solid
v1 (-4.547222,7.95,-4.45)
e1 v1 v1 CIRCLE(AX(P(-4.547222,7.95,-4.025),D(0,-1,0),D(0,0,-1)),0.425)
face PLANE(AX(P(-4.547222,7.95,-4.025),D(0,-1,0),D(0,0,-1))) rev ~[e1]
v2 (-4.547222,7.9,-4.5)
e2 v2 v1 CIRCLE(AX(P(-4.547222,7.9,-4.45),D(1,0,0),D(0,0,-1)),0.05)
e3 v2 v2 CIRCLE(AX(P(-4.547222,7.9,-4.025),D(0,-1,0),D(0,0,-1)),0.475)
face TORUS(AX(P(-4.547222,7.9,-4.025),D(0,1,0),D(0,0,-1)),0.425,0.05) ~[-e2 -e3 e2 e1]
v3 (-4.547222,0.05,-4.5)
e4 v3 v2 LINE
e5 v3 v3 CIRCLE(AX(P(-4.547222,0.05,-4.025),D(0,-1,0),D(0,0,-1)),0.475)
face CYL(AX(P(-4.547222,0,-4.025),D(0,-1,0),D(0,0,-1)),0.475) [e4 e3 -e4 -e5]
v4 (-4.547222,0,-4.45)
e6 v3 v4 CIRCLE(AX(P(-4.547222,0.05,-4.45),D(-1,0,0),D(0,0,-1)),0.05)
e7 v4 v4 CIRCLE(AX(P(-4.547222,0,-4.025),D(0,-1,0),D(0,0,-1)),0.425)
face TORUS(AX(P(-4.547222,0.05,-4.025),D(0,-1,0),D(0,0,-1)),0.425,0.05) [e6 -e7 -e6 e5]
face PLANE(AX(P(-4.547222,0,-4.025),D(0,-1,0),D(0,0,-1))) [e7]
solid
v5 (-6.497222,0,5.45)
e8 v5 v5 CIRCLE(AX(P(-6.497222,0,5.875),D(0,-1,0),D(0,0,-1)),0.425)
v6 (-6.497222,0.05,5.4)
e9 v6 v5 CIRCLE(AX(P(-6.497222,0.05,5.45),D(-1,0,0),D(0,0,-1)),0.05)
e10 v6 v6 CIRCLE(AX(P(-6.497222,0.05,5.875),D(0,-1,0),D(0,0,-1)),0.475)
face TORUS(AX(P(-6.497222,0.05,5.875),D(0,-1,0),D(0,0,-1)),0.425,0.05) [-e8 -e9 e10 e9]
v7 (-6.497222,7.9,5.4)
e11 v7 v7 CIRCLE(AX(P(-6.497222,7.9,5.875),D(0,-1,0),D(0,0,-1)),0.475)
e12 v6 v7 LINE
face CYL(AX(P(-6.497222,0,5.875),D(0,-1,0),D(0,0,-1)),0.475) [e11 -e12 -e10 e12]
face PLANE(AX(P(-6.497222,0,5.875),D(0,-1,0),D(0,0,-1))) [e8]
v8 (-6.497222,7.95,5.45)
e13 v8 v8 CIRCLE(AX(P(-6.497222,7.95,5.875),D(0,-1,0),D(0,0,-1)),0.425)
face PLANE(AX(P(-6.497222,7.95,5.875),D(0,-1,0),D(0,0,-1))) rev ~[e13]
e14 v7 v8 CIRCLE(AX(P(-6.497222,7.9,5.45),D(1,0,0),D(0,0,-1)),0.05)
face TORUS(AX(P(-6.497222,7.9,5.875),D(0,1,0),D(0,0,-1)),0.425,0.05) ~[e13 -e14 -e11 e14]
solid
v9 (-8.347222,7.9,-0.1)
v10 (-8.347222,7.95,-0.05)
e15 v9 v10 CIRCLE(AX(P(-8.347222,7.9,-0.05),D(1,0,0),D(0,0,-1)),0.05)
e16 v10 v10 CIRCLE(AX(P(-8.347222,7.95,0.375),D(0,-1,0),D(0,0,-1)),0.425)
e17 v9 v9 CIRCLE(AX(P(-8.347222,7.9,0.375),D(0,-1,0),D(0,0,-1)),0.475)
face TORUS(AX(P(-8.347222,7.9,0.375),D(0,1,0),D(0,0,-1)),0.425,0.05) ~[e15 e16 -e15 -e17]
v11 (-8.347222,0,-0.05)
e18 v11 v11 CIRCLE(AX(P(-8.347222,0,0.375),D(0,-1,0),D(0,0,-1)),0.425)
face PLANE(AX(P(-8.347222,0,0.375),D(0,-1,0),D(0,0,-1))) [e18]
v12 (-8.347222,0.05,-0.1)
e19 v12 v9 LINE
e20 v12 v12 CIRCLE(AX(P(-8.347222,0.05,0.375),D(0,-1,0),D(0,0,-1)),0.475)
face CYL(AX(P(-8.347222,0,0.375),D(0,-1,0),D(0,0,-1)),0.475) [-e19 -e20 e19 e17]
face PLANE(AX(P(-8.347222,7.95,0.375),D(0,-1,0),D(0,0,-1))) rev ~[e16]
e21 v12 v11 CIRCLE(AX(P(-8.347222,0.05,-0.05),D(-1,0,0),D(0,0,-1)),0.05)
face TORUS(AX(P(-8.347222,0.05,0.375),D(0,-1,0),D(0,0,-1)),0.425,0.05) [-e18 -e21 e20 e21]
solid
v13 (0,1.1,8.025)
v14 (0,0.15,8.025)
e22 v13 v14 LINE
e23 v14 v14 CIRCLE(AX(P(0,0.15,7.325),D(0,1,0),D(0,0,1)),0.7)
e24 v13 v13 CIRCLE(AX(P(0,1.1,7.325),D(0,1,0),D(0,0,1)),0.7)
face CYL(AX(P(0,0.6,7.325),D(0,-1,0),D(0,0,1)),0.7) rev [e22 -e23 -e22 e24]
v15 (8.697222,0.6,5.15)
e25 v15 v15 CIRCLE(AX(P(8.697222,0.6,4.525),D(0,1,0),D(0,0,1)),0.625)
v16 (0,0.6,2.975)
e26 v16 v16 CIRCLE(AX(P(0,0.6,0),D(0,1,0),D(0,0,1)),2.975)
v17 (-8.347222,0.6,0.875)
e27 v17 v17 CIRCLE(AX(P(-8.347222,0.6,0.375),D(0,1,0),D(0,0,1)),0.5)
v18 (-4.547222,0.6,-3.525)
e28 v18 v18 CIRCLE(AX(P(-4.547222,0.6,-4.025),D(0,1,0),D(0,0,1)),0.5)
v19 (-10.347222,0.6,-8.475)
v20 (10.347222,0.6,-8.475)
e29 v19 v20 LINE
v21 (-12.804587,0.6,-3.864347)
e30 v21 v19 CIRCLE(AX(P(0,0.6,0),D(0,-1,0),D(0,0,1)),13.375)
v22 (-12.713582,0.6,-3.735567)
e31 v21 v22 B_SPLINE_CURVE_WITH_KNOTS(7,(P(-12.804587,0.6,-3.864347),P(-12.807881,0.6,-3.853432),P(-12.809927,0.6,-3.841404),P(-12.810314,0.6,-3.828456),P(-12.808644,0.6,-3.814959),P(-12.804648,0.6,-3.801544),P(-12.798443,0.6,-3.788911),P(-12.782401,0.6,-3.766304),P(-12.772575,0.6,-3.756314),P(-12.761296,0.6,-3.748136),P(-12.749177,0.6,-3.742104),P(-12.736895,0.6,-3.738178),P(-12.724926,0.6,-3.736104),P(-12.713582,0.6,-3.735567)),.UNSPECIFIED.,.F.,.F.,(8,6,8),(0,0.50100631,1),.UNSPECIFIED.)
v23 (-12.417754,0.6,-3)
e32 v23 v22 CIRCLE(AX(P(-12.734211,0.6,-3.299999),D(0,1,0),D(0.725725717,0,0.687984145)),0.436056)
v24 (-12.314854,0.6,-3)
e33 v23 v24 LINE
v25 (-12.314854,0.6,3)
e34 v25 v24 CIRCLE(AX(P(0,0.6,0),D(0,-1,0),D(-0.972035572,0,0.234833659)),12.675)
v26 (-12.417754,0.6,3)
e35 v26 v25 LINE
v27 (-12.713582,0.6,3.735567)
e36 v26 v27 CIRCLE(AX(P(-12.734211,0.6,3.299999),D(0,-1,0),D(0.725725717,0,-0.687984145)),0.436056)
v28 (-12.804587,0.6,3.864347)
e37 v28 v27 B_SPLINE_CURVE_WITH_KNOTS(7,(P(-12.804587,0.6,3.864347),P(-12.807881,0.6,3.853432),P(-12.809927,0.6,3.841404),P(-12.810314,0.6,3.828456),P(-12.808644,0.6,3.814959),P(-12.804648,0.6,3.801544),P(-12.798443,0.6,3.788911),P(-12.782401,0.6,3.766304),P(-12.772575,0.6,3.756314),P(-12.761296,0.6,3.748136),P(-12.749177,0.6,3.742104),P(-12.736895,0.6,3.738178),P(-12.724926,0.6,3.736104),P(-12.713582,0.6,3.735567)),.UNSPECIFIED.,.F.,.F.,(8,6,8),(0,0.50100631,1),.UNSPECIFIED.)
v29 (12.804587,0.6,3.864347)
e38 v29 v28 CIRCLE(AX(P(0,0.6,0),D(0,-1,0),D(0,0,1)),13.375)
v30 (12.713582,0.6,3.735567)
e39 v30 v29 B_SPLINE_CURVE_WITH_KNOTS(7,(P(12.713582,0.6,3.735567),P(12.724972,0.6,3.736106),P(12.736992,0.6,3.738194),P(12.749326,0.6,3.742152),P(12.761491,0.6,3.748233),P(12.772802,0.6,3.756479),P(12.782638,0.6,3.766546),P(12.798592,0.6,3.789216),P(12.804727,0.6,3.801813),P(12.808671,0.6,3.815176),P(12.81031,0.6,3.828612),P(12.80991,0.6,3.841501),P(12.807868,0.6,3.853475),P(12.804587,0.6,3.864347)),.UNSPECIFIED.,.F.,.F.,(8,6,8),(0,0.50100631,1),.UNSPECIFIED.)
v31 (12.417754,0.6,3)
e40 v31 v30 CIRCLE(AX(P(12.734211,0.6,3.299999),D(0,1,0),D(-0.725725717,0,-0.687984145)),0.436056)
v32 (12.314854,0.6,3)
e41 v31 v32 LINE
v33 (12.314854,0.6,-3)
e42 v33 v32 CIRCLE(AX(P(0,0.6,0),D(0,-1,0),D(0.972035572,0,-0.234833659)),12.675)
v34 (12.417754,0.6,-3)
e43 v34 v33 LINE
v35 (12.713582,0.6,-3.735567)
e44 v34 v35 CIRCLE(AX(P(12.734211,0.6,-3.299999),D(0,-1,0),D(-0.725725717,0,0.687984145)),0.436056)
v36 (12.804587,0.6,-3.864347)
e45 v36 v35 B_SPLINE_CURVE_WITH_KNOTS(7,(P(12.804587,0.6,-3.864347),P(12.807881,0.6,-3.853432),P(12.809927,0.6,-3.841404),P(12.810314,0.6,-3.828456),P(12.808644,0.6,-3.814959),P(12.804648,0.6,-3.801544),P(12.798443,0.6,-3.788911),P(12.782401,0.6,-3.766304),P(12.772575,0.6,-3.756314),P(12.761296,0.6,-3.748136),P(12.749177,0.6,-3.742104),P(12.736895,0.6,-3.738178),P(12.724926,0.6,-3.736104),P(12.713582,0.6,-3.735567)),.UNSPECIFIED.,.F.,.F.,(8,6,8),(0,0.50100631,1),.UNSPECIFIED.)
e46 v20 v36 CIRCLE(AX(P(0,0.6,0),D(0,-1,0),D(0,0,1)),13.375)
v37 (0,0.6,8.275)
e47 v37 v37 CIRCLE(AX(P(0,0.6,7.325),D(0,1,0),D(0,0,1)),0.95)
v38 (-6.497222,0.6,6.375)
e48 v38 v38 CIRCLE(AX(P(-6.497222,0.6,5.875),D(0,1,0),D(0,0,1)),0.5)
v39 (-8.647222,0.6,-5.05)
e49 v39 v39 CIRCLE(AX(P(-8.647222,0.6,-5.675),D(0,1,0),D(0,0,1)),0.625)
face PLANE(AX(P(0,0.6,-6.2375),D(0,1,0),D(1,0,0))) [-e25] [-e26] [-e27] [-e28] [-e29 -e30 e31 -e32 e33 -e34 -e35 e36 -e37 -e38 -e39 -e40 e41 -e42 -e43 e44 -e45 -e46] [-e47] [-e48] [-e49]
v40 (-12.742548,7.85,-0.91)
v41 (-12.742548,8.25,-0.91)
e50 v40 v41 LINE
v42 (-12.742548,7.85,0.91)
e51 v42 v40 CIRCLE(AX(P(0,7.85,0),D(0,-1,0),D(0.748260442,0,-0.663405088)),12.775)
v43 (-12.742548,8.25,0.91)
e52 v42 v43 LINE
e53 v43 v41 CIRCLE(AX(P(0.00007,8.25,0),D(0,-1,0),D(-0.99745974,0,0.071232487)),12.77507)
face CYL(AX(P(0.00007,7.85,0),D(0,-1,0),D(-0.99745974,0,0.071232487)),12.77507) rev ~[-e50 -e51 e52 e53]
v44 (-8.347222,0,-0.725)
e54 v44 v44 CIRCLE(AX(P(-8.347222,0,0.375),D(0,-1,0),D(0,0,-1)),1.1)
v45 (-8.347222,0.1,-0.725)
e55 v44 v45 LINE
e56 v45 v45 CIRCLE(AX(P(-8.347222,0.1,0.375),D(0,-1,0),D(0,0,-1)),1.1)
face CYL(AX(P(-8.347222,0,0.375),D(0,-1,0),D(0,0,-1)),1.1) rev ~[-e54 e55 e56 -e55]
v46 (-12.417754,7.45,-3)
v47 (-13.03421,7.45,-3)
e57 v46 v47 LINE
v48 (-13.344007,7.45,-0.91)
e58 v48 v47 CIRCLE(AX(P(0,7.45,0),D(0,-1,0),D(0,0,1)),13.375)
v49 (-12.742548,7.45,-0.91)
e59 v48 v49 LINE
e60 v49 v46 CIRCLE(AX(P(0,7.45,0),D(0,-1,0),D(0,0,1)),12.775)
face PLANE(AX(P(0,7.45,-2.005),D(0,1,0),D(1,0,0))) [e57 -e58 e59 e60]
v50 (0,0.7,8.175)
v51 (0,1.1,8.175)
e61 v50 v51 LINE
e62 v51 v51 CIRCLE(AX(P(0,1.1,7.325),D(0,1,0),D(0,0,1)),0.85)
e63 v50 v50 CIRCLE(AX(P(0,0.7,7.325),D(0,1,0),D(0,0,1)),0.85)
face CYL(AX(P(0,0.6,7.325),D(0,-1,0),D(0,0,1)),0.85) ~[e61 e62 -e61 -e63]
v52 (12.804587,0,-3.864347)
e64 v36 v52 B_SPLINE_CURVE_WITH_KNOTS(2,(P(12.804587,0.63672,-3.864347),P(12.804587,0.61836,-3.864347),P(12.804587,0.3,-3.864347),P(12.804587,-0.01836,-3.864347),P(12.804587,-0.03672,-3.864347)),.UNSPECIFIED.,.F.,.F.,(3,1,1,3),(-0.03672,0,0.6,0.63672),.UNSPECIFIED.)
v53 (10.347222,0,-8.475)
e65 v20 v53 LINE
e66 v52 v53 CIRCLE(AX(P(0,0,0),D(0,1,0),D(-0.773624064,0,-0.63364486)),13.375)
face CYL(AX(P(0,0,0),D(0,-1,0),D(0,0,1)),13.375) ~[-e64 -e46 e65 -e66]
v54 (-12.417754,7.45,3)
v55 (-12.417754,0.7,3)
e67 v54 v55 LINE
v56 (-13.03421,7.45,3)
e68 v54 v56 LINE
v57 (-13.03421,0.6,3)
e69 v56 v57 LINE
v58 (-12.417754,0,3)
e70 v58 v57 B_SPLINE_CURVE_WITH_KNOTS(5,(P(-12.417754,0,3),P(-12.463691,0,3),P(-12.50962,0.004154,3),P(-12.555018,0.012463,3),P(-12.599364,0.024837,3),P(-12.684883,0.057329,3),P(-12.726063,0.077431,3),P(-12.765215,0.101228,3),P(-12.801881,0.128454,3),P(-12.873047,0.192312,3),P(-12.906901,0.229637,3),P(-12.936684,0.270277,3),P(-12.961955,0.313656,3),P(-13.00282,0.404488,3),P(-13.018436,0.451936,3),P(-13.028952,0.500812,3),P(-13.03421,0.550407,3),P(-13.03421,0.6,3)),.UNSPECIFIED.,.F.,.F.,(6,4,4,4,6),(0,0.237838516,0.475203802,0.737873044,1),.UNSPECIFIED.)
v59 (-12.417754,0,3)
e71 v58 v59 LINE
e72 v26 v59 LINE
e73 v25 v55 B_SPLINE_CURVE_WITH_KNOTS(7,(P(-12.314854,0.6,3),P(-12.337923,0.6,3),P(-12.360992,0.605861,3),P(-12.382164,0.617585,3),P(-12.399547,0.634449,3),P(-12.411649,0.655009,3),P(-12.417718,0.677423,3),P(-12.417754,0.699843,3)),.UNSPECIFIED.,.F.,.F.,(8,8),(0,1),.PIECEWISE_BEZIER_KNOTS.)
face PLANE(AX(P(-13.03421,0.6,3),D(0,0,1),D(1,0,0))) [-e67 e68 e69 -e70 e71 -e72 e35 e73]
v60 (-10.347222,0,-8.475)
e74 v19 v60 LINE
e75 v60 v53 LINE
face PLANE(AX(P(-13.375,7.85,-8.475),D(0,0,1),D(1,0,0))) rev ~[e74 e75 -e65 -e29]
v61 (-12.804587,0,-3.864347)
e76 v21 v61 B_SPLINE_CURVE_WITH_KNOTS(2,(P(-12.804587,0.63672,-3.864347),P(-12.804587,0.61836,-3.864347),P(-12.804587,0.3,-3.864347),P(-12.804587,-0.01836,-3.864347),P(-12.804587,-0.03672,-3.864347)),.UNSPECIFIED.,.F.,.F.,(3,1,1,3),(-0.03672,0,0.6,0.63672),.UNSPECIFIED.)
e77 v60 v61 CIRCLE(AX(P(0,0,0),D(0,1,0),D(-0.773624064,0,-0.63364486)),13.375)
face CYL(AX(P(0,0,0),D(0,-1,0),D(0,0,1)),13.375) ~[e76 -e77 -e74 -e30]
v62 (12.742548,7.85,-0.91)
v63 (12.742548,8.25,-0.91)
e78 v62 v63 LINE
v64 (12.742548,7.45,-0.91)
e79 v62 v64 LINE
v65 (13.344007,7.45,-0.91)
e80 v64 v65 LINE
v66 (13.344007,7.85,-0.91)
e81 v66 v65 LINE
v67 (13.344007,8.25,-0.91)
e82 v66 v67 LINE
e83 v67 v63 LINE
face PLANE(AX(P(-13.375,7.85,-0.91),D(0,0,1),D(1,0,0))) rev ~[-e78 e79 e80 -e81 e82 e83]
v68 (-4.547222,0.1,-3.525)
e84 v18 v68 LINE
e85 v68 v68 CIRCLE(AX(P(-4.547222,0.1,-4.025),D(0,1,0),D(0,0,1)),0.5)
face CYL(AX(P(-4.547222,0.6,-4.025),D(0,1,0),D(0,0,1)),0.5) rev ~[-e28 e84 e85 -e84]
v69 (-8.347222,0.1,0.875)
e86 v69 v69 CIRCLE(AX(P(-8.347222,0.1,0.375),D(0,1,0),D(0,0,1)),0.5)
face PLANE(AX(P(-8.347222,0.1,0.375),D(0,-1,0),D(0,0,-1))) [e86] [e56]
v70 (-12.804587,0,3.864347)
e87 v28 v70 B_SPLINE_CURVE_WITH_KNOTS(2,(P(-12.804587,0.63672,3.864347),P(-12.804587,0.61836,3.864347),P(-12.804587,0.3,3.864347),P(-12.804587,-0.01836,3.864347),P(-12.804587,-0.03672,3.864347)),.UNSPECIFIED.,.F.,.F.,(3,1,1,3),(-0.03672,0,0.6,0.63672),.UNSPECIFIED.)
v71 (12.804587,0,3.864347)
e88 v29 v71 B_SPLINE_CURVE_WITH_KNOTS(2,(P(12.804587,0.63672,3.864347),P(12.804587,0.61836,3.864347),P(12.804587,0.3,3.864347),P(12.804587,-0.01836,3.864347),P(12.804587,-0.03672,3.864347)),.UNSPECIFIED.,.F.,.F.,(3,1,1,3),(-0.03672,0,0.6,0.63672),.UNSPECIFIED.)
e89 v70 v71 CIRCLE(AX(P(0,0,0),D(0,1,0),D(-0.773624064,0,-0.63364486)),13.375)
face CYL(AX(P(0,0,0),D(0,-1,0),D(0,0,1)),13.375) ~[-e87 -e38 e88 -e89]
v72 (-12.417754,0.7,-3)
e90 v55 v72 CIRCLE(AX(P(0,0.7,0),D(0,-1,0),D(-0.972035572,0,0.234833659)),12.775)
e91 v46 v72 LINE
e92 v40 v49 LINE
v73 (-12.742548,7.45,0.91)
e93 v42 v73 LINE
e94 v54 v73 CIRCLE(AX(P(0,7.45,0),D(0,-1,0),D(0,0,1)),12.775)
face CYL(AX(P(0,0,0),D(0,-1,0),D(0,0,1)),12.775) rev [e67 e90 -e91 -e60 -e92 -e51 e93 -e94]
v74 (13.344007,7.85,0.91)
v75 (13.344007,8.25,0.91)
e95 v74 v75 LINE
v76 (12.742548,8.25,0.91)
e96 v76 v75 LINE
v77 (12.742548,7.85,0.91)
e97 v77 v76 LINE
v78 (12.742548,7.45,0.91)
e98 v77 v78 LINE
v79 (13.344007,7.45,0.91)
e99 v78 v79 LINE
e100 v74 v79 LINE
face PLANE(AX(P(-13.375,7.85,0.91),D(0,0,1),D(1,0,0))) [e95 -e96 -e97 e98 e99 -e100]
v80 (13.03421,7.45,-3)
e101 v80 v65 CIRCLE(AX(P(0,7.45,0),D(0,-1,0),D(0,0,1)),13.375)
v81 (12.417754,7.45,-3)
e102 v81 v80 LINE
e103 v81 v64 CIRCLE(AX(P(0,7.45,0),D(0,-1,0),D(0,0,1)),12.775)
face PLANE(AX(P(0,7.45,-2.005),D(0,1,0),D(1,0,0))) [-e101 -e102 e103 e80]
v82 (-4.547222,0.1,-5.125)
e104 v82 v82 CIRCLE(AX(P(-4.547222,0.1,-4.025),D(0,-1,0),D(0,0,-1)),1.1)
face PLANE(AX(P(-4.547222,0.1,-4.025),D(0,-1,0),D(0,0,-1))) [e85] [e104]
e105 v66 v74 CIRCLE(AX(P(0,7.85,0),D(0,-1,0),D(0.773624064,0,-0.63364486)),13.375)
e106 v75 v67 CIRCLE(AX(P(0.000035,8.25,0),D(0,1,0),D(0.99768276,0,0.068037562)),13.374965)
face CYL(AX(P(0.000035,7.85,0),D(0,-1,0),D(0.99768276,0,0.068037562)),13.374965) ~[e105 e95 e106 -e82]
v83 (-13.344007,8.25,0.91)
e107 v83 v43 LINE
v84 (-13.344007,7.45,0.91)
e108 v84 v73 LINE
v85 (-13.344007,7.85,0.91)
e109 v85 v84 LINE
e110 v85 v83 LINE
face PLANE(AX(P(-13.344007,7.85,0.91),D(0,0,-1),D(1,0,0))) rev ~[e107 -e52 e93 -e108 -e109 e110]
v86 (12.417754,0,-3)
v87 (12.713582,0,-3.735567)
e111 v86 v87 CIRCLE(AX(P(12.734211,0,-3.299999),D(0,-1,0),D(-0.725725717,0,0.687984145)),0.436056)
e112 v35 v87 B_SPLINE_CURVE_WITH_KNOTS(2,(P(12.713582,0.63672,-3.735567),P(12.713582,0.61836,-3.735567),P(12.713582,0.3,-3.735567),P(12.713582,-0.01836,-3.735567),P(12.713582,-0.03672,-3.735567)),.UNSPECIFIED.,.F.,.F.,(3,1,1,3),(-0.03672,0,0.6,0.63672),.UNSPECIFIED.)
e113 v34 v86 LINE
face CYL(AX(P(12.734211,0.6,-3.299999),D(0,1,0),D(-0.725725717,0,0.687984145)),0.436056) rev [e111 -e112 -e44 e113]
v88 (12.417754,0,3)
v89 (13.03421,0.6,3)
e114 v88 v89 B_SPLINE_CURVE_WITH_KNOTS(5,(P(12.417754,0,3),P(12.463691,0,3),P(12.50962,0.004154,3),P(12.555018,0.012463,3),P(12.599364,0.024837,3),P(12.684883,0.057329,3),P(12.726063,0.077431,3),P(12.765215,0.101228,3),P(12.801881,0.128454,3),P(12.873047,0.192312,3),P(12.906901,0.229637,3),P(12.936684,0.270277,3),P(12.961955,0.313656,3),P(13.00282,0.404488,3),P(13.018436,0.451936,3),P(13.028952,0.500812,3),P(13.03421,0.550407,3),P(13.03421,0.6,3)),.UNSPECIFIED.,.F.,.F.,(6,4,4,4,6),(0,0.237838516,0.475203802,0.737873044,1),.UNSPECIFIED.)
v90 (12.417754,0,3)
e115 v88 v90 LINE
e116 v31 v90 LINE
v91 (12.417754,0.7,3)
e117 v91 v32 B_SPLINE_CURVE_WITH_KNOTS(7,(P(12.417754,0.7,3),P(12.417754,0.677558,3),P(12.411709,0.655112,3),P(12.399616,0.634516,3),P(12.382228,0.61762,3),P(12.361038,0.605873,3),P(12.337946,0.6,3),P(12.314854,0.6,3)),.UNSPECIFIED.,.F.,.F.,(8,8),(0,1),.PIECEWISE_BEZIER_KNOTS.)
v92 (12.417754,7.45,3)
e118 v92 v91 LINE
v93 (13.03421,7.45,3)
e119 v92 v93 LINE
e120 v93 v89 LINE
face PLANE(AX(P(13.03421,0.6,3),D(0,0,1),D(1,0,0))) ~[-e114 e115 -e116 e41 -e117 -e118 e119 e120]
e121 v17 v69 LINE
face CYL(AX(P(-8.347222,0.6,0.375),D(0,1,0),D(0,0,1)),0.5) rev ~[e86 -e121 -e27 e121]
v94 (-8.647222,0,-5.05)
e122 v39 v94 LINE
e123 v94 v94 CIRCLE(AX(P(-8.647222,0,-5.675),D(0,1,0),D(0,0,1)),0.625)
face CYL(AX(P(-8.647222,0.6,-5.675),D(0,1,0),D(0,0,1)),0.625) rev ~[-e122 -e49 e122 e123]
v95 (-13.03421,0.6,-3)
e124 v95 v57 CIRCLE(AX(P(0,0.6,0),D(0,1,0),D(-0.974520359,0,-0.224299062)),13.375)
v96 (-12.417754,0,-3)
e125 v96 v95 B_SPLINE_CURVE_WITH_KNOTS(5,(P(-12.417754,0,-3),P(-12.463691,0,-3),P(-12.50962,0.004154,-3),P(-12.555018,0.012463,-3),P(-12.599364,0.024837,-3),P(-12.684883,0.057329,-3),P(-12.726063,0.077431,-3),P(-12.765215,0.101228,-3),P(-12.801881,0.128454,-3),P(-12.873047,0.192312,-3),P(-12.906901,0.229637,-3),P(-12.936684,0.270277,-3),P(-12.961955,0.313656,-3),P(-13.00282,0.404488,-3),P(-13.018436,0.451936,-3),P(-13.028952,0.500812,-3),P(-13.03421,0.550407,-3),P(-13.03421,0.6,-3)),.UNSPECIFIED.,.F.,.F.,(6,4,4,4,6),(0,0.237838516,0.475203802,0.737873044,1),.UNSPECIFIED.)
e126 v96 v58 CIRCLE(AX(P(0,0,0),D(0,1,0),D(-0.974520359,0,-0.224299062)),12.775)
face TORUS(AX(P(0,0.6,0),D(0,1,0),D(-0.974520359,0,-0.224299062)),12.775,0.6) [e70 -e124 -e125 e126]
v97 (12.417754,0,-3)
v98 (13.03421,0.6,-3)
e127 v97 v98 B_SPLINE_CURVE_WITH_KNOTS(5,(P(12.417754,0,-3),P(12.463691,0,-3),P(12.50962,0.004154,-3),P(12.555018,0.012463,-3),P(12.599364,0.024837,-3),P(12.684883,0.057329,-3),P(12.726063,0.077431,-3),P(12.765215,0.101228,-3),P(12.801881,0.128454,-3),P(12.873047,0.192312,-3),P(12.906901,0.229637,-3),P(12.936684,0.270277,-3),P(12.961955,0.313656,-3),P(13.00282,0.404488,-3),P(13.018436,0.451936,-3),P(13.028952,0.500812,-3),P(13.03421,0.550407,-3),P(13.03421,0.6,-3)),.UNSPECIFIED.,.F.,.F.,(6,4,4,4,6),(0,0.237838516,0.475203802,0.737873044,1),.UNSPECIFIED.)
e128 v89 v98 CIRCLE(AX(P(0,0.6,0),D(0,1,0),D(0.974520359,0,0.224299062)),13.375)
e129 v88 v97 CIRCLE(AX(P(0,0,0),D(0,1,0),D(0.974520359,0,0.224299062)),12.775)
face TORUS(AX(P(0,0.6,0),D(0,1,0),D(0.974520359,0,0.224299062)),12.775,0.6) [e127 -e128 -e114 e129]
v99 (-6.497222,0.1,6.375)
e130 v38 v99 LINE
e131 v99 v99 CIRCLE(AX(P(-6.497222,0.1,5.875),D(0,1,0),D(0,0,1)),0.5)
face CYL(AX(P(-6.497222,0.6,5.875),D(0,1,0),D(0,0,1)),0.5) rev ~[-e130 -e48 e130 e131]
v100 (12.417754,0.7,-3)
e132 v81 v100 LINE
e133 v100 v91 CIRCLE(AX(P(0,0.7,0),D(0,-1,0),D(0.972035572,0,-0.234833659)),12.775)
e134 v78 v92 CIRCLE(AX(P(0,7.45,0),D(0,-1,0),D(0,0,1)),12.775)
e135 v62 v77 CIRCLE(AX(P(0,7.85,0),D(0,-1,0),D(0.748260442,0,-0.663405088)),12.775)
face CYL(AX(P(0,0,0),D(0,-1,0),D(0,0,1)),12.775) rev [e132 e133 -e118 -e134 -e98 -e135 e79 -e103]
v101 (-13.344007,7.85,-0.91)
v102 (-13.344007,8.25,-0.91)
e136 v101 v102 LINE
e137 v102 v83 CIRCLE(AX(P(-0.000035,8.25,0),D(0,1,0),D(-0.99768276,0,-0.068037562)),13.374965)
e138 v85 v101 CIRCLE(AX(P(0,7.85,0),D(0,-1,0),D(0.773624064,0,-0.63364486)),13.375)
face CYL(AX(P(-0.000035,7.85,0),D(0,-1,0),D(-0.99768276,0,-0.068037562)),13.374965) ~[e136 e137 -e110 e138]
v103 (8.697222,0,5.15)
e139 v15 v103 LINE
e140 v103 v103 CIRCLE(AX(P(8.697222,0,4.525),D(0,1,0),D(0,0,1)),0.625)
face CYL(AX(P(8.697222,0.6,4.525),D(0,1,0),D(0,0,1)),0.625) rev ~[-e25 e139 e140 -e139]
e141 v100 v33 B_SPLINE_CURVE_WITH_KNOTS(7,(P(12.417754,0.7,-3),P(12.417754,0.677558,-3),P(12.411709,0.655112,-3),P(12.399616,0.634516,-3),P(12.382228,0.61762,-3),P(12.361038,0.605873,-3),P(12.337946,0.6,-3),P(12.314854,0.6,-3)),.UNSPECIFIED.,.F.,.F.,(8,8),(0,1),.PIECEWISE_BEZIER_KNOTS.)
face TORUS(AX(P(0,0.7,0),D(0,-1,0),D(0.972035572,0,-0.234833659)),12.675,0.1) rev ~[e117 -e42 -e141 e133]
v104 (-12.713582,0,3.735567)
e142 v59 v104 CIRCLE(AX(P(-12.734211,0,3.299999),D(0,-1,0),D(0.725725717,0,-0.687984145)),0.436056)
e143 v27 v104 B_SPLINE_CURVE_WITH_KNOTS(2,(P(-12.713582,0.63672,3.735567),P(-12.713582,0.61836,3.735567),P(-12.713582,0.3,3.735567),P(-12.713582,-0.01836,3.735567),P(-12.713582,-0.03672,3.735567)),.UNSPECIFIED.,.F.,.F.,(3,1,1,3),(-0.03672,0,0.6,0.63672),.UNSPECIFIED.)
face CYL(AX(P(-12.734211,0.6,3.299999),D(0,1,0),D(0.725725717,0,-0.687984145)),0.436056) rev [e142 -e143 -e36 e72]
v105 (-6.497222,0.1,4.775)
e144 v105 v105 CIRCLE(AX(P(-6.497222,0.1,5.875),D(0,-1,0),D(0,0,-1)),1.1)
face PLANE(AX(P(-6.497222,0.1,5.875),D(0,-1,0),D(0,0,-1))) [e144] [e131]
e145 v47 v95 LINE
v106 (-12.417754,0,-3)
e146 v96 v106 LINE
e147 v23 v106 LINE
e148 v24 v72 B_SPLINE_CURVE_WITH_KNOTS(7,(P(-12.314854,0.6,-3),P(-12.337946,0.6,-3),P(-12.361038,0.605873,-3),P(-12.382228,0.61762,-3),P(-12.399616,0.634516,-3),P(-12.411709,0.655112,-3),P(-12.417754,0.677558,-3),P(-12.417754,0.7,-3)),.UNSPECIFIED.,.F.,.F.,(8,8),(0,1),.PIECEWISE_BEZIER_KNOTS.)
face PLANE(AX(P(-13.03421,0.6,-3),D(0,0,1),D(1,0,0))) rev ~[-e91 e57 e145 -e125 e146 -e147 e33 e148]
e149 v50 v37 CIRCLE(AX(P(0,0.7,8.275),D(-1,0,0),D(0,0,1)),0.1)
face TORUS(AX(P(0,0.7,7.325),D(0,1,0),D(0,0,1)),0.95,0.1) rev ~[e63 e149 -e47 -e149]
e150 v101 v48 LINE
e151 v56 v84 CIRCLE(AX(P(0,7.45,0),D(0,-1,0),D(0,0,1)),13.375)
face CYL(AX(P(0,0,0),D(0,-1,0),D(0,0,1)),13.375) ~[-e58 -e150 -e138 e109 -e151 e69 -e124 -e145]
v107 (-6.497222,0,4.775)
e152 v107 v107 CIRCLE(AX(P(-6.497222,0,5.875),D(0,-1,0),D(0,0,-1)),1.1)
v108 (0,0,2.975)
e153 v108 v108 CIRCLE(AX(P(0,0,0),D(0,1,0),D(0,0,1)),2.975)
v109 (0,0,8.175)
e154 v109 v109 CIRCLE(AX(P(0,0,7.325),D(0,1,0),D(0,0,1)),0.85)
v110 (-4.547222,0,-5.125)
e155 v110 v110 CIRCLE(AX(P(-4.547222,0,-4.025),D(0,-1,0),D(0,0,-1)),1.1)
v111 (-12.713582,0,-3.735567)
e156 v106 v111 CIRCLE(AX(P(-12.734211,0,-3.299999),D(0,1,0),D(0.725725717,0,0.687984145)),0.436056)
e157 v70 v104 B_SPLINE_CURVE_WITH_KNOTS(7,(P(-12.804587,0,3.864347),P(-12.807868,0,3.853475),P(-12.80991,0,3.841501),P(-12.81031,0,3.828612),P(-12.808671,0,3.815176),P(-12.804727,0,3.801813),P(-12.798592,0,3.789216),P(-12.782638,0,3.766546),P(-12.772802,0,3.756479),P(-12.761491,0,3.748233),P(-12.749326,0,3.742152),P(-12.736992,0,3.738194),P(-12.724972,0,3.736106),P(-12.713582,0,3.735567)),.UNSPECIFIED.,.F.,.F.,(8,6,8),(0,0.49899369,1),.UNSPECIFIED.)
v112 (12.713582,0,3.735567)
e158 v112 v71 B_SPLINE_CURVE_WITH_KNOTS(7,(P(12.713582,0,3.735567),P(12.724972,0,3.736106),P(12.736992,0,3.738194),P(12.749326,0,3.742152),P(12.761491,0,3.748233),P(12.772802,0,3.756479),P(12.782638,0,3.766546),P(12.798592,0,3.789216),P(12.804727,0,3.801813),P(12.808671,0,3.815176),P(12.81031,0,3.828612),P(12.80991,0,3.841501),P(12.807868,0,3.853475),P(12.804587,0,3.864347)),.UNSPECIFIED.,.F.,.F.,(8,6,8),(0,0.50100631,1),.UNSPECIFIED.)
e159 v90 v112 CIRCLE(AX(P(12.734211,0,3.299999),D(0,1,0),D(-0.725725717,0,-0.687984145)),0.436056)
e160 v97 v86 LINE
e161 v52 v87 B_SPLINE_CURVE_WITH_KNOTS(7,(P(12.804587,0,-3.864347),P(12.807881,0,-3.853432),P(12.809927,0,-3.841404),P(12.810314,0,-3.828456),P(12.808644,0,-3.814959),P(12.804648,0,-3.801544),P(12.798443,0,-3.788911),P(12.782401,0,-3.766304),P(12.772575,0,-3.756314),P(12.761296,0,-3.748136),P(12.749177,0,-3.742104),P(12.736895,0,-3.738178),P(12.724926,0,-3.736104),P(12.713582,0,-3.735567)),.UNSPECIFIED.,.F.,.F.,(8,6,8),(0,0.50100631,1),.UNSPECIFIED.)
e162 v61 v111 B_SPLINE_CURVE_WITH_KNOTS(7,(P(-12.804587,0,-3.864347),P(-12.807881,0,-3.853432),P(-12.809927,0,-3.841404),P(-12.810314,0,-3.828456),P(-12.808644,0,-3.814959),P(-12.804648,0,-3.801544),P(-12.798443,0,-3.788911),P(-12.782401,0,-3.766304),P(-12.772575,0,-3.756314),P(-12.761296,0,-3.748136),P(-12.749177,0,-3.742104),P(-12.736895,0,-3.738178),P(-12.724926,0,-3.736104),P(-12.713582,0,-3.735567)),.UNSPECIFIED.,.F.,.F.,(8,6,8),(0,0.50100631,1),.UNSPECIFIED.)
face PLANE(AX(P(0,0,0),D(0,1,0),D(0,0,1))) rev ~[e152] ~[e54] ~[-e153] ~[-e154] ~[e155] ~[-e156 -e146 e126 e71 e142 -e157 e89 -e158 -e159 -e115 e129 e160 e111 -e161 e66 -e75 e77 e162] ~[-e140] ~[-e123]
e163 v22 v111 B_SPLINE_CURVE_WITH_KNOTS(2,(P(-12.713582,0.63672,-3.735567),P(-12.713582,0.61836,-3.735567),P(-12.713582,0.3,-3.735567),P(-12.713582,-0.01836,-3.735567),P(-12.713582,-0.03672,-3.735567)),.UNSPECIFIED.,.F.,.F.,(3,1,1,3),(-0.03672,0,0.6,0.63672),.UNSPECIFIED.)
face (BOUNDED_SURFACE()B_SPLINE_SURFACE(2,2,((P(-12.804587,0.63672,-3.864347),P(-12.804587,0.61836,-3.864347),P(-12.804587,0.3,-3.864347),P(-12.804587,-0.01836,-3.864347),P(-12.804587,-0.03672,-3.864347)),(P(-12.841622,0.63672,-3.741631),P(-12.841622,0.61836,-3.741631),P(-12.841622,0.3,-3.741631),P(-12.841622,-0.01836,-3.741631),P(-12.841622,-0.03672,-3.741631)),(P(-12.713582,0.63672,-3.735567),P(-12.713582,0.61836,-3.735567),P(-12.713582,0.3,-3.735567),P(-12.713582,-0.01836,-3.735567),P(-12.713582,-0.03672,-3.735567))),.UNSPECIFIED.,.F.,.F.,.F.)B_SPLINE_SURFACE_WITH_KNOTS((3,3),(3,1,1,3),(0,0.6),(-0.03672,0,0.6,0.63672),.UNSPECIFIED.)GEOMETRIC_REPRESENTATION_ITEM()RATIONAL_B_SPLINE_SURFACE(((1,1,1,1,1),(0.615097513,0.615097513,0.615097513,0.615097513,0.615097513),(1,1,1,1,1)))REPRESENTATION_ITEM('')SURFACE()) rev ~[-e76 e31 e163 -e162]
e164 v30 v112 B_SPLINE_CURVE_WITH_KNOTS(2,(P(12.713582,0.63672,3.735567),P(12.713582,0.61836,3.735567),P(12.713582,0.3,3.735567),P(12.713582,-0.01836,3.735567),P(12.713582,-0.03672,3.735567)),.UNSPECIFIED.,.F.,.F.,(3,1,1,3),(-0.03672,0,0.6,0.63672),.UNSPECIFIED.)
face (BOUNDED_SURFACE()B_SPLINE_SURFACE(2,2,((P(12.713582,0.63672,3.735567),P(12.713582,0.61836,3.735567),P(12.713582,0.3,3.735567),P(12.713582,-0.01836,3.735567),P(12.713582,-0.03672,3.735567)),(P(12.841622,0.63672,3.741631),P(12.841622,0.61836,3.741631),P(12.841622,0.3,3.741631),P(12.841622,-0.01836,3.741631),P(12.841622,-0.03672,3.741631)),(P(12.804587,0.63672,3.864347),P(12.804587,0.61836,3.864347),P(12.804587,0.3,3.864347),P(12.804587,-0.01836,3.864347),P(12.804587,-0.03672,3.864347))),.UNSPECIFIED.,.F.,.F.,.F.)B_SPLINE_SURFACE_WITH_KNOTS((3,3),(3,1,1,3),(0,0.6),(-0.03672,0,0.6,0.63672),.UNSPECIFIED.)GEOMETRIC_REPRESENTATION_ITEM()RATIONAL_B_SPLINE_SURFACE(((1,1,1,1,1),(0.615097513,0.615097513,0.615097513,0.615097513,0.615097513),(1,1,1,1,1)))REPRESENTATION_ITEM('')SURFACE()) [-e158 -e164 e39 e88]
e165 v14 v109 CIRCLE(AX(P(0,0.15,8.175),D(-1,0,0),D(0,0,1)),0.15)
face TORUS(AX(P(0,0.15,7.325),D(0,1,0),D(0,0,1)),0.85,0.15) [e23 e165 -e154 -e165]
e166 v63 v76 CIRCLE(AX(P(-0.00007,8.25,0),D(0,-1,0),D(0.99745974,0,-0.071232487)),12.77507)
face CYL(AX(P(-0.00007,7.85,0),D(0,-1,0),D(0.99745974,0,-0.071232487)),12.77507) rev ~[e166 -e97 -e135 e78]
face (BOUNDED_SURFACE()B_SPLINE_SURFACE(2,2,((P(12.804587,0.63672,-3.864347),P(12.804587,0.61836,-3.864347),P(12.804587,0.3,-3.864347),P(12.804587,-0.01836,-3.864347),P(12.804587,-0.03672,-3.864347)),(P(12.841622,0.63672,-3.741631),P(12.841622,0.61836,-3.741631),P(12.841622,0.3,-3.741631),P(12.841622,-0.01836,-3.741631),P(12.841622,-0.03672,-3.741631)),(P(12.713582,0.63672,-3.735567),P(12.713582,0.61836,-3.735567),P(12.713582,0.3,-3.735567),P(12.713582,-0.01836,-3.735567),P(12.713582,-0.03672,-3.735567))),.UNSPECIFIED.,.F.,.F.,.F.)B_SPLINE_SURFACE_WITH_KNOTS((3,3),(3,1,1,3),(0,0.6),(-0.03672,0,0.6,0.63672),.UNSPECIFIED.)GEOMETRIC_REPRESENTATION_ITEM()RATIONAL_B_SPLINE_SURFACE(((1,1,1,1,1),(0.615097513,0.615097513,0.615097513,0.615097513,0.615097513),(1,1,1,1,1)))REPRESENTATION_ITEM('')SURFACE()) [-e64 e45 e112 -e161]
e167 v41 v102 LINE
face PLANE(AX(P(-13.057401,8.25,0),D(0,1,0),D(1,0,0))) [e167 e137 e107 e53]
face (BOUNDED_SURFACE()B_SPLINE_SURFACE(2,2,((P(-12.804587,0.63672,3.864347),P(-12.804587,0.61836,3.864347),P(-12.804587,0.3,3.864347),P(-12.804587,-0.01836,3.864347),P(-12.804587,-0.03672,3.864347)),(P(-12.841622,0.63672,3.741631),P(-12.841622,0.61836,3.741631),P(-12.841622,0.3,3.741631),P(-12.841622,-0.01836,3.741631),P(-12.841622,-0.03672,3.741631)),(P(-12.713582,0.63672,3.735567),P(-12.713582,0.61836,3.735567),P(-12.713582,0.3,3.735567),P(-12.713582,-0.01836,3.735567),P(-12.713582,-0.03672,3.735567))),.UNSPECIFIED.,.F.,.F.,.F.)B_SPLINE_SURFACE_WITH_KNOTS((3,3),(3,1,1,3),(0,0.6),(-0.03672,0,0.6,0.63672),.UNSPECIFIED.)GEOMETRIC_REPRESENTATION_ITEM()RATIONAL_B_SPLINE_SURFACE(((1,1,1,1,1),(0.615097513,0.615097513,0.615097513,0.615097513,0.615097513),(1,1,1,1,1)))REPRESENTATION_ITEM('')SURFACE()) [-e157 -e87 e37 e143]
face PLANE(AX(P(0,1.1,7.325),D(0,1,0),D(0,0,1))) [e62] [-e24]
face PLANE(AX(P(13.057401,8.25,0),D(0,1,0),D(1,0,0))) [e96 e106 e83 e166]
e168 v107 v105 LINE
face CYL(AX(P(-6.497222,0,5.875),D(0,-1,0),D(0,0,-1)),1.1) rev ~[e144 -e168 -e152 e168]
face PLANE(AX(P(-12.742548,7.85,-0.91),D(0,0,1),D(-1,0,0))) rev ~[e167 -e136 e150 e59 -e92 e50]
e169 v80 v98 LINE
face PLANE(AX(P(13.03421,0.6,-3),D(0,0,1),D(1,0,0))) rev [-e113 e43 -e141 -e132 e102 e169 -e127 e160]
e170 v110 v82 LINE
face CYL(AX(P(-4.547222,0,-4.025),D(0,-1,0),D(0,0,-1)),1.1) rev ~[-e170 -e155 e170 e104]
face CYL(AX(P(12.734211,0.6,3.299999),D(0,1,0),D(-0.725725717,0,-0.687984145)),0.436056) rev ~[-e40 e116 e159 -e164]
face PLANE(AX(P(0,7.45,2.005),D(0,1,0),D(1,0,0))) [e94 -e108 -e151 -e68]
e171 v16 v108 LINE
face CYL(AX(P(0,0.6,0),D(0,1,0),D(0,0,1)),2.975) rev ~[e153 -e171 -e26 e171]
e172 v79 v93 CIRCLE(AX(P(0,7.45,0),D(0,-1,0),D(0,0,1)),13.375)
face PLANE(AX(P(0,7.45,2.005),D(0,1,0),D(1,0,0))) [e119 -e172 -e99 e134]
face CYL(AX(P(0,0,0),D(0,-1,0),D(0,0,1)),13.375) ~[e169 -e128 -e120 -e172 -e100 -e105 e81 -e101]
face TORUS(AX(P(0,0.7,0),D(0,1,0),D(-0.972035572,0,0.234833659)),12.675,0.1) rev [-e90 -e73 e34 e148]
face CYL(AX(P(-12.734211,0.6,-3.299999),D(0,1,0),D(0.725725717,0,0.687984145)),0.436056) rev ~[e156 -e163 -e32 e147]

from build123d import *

# Parameters (mm, degrees)
SKETCH_1_R          = 13.375
EXTRUDE_1_DEPTH     = 7.85
SHELL_1_T           = -0.6
CUT_EXTRUDE_1_REACH = 22.479
SKETCH_2_W          = 26.75
SKETCH_2_H          = 5.525
SKETCH_3_W          = 26.75
SKETCH_3_H          = 6.475
SKETCH_3_H_2        = 11.375
CUT_EXTRUDE_2_DEPTH = 7.25
CUT_EXTRUDE_3_DEPTH = 0.6
FILLET_1_R          = 0.1
FILLET_2_R          = 0.6
FILLET_3_R          = 0.1
SKETCH_5_R          = 2.975
SKETCH_5_R_2        = 0.625
SKETCH_5_R_3        = 0.5
SKETCH_5_R_4        = 0.7
CUT_EXTRUDE_4_DEPTH = 0.6
SKETCH_6_R          = 1.1
CUT_EXTRUDE_5_DEPTH = 0.1
SKETCH_7_R          = 0.475
EXTRUDE_2_DEPTH     = 7.95
EXTRUDE_2_2_DEPTH   = 7.95
EXTRUDE_2_3_DEPTH   = 7.95
FILLET_4_R          = 0.05
FILLET_5_R          = 0.05
FILLET_6_R          = 0.05
SKETCH_8_W          = 26.75
SKETCH_8_H          = 2.19
CUT_EXTRUDE_6_DEPTH = 0.4
EXTRUDE_3_DEPTH     = 0.4
SKETCH_10_R         = 0.85
SKETCH_10_R_2       = 0.7
EXTRUDE_4_DEPTH     = 0.5
FILLET_7_R          = 0.15
FILLET_8_R          = 0.1


with BuildPart() as part:
    # Эскиз1 → Бобышка-Вытянуть1 (new body)
    with BuildSketch(Plane(origin=(0, 0, 0), x_dir=(1, 0, 0), z_dir=(0, 1, 0))):
        with Locations(Location((0, 0, 0), (0, 0, 270))):
            Circle(SKETCH_1_R)
    extrude(amount=EXTRUDE_1_DEPTH)

    # Оболочка1
    shell_1_openings = [part.faces().sort_by_distance(p)[0] for p in [
        (0, 7.85, 0),
    ]]
    offset(amount=SHELL_1_T, openings=shell_1_openings, kind=Kind.INTERSECTION)

    # Вырез-Вытянуть1: up to this face of the body (flat: up to its plane)
    cut_extrude_1_end = Plane(part.part.faces().sort_by_distance((0, 0, 0))[0])
    # Эскиз2 → Вырез-Вытянуть1 (cut, up to the picked face)
    with BuildSketch(Plane(origin=(0, 7.85, 0), x_dir=(1, 0, 0), z_dir=(0, 1, 0)), mode=Mode.PRIVATE) as cut_extrude_1_sk1:
        with Locations((0, 11.2375)):
            Rectangle(SKETCH_2_W, SKETCH_2_H)
    cut_extrude_1_tool1 = split(extrude(cut_extrude_1_sk1.sketch, amount=-CUT_EXTRUDE_1_REACH, mode=Mode.PRIVATE), bisect_by=cut_extrude_1_end, keep=Keep.BOTH, mode=Mode.PRIVATE)
    add(cut_extrude_1_tool1.solids().sort_by(Axis((0, 7.85, -11.2375), (0, -1, 0)))[0], mode=Mode.SUBTRACT)

    # Эскиз3 → Вырез-Вытянуть2 (cut)
    with BuildSketch(Plane(origin=(0, 7.85, 0), x_dir=(1, 0, 0), z_dir=(0, 1, 0))):
        with Locations((0, 6.2375)):
            Rectangle(SKETCH_3_W, SKETCH_3_H)
        with Locations((0, -8.6875)):
            Rectangle(SKETCH_3_W, SKETCH_3_H_2)
    extrude(amount=-CUT_EXTRUDE_2_DEPTH, mode=Mode.SUBTRACT)

    # Эскиз4 → Вырез-Вытянуть3 (cut)
    with BuildSketch(Plane(origin=(0, 0.6, 0), x_dir=(1, 0, 0), z_dir=(0, 1, 0))):
        with BuildLine():
            Line((-13.03421, -3), (-12.417754, -3))
            ThreePointArc((-12.417754, -3), (-12.359475, -3.522974), (-12.846906, -3.721241))
            ThreePointArc((-12.846906, -3.721241), (-12.945582, -3.361925), (-13.03421, -3))
        make_face()
        with BuildLine():
            Line((-13.03421, 3), (-12.417754, 3))
            ThreePointArc((-12.417754, 3), (-12.359475, 3.522974), (-12.846906, 3.721241))
            ThreePointArc((-12.846906, 3.721241), (-12.945582, 3.361925), (-13.03421, 3))
        make_face()
    cut_extrude_3 = extrude(amount=-CUT_EXTRUDE_3_DEPTH, mode=Mode.SUBTRACT)

    # Зеркальное отражение1: Вырез-Вытянуть3 across plane
    add(cut_extrude_3.mirror(Plane(origin=(0, 0, 0), x_dir=(0, 0, 1), z_dir=(1, 0, 0))), mode=Mode.SUBTRACT)

    # Скругление1
    fillet_1_edges = [part.edges().sort_by_distance(p)[0] for p in [
        (12.846906, 0.3, -3.721241),
        (12.846906, 0.3, 3.721241),
        (-12.846906, 0.3, -3.721241),
        (-12.846906, 0.3, 3.721241),
    ]]
    fillet(fillet_1_edges, radius=FILLET_1_R)

    # Скругление2
    fillet_2_edges = [part.edges().sort_by_distance(p)[0] for p in [
        (-13.375, 0, 0),
        (13.375, 0, 0),
    ]]
    fillet(fillet_2_edges, radius=FILLET_2_R)

    # Скругление3
    fillet_3_edges = [part.edges().sort_by_distance(p)[0] for p in [
        (-12.775, 0.6, 0),
        (12.775, 0.6, 0),
    ]]
    fillet(fillet_3_edges, radius=FILLET_3_R)

    # Эскиз5 → Вырез-Вытянуть4 (cut)
    with BuildSketch(Plane(origin=(0, 0.6, 0), x_dir=(1, 0, 0), z_dir=(0, 1, 0))):
        with Locations(Location((0, 0, 0), (0, 0, 270))):
            Circle(SKETCH_5_R)
        with Locations(Location((-8.647222, 5.675, 0), (0, 0, 270))):
            Circle(SKETCH_5_R_2)
        with Locations(Location((-4.547222, 4.025, 0), (0, 0, 270))):
            Circle(SKETCH_5_R_3)
        with Locations(Location((-8.347222, -0.375, 0), (0, 0, 270))):
            Circle(SKETCH_5_R_3)
        with Locations(Location((-6.497222, -5.875, 0), (0, 0, 270))):
            Circle(SKETCH_5_R_3)
        with Locations(Location((0, -7.325, 0), (0, 0, 270))):
            Circle(SKETCH_5_R_4)
        with Locations(Location((8.697222, -4.525, 0), (0, 0, 270))):
            Circle(SKETCH_5_R_2)
    extrude(amount=-CUT_EXTRUDE_4_DEPTH, mode=Mode.SUBTRACT)

    # Эскиз6 → Вырез-Вытянуть5 (cut)
    with BuildSketch(Plane.XZ):
        with Locations(Location((-6.497222, 5.875, 0), (0, 0, 270))):
            Circle(SKETCH_6_R)
        with Locations(Location((-8.347222, 0.375, 0), (0, 0, 270))):
            Circle(SKETCH_6_R)
        with Locations(Location((-4.547222, -4.025, 0), (0, 0, 270))):
            Circle(SKETCH_6_R)
    extrude(amount=-CUT_EXTRUDE_5_DEPTH, mode=Mode.SUBTRACT)

    # Эскиз8 → Вырез-Вытянуть6 (cut)
    with BuildSketch(Plane(origin=(0, 7.85, 0), x_dir=(1, 0, 0), z_dir=(0, 1, 0))):
        with Locations((0, 2.005)):
            Rectangle(SKETCH_8_W, SKETCH_8_H)
        with Locations((0, -2.005)):
            Rectangle(SKETCH_8_W, SKETCH_8_H)
    extrude(amount=-CUT_EXTRUDE_6_DEPTH, mode=Mode.SUBTRACT)

    # Эскиз9 → Бобышка-Вытянуть3 (add)
    with BuildSketch(Plane(origin=(0, 7.85, 0), x_dir=(1, 0, 0), z_dir=(0, 1, 0))):
        with BuildLine():
            Line((-13.344007, -0.91), (-12.742548, -0.91))
            ThreePointArc((-12.742548, -0.91), (-12.775, 0), (-12.742548, 0.91))
            Line((-12.742548, 0.91), (-13.344007, 0.91))
            ThreePointArc((-13.344007, 0.91), (-13.375, 0), (-13.344007, -0.91))
        make_face()
        with BuildLine():
            Line((12.742548, -0.91), (13.344007, -0.91))
            ThreePointArc((13.344007, -0.91), (13.375, 0), (13.344007, 0.91))
            Line((13.344007, 0.91), (12.742548, 0.91))
            ThreePointArc((12.742548, 0.91), (12.775, 0), (12.742548, -0.91))
        make_face()
    extrude(amount=EXTRUDE_3_DEPTH)

    # Эскиз10 → Бобышка-Вытянуть4 (add)
    with BuildSketch(Plane(origin=(0, 0.6, 0), x_dir=(1, 0, 0), z_dir=(0, 1, 0))):
        with Locations(Location((0, -7.325, 0), (0, 0, 270))):
            Circle(SKETCH_10_R)
        with Locations(Location((0, -7.325, 0), (0, 0, 270))):
            Circle(SKETCH_10_R_2, mode=Mode.SUBTRACT)
    extrude(amount=EXTRUDE_4_DEPTH)

    # Скругление7
    fillet_7_edges = [part.edges().sort_by_distance(p)[0] for p in [
        (0, 0, 6.625),
    ]]
    fillet(fillet_7_edges, radius=FILLET_7_R)

    # Скругление8
    fillet_8_edges = [part.edges().sort_by_distance(p)[0] for p in [
        (0, 0.6, 6.475),
    ]]
    fillet(fillet_8_edges, radius=FILLET_8_R)


with BuildPart() as body_2:
    # Эскиз7 → Бобышка-Вытянуть2 (new body)
    with BuildSketch(Plane.XZ):
        with Locations(Location((-6.497222, 5.875, 0), (0, 0, 270))):
            Circle(SKETCH_7_R)
    extrude(amount=-EXTRUDE_2_DEPTH)

    # Скругление6
    fillet_6_edges = [body_2.edges().sort_by_distance(p)[0] for p in [
        (-6.497222, 0, 6.35),
        (-6.497222, 7.95, 6.35),
    ]]
    fillet(fillet_6_edges, radius=FILLET_6_R)


with BuildPart() as body_3:
    # Эскиз7 → Extrude 2 2 (new body)
    with BuildSketch(Plane.XZ):
        with Locations(Location((-8.347222, 0.375, 0), (0, 0, 270))):
            Circle(SKETCH_7_R)
    extrude(amount=-EXTRUDE_2_2_DEPTH)

    # Скругление5
    fillet_5_edges = [body_3.edges().sort_by_distance(p)[0] for p in [
        (-8.347222, 0, 0.85),
        (-8.347222, 7.95, 0.85),
    ]]
    fillet(fillet_5_edges, radius=FILLET_5_R)


with BuildPart() as body_4:
    # Эскиз7 → Extrude 2 3 (new body)
    with BuildSketch(Plane.XZ):
        with Locations(Location((-4.547222, -4.025, 0), (0, 0, 270))):
            Circle(SKETCH_7_R)
    extrude(amount=-EXTRUDE_2_3_DEPTH)

    # Скругление4
    fillet_4_edges = [body_4.edges().sort_by_distance(p)[0] for p in [
        (-4.547222, 0, -3.55),
        (-4.547222, 7.95, -3.55),
    ]]
    fillet(fillet_4_edges, radius=FILLET_4_R)


solid = Compound([part.part, body_2.part, body_3.part, body_4.part])
